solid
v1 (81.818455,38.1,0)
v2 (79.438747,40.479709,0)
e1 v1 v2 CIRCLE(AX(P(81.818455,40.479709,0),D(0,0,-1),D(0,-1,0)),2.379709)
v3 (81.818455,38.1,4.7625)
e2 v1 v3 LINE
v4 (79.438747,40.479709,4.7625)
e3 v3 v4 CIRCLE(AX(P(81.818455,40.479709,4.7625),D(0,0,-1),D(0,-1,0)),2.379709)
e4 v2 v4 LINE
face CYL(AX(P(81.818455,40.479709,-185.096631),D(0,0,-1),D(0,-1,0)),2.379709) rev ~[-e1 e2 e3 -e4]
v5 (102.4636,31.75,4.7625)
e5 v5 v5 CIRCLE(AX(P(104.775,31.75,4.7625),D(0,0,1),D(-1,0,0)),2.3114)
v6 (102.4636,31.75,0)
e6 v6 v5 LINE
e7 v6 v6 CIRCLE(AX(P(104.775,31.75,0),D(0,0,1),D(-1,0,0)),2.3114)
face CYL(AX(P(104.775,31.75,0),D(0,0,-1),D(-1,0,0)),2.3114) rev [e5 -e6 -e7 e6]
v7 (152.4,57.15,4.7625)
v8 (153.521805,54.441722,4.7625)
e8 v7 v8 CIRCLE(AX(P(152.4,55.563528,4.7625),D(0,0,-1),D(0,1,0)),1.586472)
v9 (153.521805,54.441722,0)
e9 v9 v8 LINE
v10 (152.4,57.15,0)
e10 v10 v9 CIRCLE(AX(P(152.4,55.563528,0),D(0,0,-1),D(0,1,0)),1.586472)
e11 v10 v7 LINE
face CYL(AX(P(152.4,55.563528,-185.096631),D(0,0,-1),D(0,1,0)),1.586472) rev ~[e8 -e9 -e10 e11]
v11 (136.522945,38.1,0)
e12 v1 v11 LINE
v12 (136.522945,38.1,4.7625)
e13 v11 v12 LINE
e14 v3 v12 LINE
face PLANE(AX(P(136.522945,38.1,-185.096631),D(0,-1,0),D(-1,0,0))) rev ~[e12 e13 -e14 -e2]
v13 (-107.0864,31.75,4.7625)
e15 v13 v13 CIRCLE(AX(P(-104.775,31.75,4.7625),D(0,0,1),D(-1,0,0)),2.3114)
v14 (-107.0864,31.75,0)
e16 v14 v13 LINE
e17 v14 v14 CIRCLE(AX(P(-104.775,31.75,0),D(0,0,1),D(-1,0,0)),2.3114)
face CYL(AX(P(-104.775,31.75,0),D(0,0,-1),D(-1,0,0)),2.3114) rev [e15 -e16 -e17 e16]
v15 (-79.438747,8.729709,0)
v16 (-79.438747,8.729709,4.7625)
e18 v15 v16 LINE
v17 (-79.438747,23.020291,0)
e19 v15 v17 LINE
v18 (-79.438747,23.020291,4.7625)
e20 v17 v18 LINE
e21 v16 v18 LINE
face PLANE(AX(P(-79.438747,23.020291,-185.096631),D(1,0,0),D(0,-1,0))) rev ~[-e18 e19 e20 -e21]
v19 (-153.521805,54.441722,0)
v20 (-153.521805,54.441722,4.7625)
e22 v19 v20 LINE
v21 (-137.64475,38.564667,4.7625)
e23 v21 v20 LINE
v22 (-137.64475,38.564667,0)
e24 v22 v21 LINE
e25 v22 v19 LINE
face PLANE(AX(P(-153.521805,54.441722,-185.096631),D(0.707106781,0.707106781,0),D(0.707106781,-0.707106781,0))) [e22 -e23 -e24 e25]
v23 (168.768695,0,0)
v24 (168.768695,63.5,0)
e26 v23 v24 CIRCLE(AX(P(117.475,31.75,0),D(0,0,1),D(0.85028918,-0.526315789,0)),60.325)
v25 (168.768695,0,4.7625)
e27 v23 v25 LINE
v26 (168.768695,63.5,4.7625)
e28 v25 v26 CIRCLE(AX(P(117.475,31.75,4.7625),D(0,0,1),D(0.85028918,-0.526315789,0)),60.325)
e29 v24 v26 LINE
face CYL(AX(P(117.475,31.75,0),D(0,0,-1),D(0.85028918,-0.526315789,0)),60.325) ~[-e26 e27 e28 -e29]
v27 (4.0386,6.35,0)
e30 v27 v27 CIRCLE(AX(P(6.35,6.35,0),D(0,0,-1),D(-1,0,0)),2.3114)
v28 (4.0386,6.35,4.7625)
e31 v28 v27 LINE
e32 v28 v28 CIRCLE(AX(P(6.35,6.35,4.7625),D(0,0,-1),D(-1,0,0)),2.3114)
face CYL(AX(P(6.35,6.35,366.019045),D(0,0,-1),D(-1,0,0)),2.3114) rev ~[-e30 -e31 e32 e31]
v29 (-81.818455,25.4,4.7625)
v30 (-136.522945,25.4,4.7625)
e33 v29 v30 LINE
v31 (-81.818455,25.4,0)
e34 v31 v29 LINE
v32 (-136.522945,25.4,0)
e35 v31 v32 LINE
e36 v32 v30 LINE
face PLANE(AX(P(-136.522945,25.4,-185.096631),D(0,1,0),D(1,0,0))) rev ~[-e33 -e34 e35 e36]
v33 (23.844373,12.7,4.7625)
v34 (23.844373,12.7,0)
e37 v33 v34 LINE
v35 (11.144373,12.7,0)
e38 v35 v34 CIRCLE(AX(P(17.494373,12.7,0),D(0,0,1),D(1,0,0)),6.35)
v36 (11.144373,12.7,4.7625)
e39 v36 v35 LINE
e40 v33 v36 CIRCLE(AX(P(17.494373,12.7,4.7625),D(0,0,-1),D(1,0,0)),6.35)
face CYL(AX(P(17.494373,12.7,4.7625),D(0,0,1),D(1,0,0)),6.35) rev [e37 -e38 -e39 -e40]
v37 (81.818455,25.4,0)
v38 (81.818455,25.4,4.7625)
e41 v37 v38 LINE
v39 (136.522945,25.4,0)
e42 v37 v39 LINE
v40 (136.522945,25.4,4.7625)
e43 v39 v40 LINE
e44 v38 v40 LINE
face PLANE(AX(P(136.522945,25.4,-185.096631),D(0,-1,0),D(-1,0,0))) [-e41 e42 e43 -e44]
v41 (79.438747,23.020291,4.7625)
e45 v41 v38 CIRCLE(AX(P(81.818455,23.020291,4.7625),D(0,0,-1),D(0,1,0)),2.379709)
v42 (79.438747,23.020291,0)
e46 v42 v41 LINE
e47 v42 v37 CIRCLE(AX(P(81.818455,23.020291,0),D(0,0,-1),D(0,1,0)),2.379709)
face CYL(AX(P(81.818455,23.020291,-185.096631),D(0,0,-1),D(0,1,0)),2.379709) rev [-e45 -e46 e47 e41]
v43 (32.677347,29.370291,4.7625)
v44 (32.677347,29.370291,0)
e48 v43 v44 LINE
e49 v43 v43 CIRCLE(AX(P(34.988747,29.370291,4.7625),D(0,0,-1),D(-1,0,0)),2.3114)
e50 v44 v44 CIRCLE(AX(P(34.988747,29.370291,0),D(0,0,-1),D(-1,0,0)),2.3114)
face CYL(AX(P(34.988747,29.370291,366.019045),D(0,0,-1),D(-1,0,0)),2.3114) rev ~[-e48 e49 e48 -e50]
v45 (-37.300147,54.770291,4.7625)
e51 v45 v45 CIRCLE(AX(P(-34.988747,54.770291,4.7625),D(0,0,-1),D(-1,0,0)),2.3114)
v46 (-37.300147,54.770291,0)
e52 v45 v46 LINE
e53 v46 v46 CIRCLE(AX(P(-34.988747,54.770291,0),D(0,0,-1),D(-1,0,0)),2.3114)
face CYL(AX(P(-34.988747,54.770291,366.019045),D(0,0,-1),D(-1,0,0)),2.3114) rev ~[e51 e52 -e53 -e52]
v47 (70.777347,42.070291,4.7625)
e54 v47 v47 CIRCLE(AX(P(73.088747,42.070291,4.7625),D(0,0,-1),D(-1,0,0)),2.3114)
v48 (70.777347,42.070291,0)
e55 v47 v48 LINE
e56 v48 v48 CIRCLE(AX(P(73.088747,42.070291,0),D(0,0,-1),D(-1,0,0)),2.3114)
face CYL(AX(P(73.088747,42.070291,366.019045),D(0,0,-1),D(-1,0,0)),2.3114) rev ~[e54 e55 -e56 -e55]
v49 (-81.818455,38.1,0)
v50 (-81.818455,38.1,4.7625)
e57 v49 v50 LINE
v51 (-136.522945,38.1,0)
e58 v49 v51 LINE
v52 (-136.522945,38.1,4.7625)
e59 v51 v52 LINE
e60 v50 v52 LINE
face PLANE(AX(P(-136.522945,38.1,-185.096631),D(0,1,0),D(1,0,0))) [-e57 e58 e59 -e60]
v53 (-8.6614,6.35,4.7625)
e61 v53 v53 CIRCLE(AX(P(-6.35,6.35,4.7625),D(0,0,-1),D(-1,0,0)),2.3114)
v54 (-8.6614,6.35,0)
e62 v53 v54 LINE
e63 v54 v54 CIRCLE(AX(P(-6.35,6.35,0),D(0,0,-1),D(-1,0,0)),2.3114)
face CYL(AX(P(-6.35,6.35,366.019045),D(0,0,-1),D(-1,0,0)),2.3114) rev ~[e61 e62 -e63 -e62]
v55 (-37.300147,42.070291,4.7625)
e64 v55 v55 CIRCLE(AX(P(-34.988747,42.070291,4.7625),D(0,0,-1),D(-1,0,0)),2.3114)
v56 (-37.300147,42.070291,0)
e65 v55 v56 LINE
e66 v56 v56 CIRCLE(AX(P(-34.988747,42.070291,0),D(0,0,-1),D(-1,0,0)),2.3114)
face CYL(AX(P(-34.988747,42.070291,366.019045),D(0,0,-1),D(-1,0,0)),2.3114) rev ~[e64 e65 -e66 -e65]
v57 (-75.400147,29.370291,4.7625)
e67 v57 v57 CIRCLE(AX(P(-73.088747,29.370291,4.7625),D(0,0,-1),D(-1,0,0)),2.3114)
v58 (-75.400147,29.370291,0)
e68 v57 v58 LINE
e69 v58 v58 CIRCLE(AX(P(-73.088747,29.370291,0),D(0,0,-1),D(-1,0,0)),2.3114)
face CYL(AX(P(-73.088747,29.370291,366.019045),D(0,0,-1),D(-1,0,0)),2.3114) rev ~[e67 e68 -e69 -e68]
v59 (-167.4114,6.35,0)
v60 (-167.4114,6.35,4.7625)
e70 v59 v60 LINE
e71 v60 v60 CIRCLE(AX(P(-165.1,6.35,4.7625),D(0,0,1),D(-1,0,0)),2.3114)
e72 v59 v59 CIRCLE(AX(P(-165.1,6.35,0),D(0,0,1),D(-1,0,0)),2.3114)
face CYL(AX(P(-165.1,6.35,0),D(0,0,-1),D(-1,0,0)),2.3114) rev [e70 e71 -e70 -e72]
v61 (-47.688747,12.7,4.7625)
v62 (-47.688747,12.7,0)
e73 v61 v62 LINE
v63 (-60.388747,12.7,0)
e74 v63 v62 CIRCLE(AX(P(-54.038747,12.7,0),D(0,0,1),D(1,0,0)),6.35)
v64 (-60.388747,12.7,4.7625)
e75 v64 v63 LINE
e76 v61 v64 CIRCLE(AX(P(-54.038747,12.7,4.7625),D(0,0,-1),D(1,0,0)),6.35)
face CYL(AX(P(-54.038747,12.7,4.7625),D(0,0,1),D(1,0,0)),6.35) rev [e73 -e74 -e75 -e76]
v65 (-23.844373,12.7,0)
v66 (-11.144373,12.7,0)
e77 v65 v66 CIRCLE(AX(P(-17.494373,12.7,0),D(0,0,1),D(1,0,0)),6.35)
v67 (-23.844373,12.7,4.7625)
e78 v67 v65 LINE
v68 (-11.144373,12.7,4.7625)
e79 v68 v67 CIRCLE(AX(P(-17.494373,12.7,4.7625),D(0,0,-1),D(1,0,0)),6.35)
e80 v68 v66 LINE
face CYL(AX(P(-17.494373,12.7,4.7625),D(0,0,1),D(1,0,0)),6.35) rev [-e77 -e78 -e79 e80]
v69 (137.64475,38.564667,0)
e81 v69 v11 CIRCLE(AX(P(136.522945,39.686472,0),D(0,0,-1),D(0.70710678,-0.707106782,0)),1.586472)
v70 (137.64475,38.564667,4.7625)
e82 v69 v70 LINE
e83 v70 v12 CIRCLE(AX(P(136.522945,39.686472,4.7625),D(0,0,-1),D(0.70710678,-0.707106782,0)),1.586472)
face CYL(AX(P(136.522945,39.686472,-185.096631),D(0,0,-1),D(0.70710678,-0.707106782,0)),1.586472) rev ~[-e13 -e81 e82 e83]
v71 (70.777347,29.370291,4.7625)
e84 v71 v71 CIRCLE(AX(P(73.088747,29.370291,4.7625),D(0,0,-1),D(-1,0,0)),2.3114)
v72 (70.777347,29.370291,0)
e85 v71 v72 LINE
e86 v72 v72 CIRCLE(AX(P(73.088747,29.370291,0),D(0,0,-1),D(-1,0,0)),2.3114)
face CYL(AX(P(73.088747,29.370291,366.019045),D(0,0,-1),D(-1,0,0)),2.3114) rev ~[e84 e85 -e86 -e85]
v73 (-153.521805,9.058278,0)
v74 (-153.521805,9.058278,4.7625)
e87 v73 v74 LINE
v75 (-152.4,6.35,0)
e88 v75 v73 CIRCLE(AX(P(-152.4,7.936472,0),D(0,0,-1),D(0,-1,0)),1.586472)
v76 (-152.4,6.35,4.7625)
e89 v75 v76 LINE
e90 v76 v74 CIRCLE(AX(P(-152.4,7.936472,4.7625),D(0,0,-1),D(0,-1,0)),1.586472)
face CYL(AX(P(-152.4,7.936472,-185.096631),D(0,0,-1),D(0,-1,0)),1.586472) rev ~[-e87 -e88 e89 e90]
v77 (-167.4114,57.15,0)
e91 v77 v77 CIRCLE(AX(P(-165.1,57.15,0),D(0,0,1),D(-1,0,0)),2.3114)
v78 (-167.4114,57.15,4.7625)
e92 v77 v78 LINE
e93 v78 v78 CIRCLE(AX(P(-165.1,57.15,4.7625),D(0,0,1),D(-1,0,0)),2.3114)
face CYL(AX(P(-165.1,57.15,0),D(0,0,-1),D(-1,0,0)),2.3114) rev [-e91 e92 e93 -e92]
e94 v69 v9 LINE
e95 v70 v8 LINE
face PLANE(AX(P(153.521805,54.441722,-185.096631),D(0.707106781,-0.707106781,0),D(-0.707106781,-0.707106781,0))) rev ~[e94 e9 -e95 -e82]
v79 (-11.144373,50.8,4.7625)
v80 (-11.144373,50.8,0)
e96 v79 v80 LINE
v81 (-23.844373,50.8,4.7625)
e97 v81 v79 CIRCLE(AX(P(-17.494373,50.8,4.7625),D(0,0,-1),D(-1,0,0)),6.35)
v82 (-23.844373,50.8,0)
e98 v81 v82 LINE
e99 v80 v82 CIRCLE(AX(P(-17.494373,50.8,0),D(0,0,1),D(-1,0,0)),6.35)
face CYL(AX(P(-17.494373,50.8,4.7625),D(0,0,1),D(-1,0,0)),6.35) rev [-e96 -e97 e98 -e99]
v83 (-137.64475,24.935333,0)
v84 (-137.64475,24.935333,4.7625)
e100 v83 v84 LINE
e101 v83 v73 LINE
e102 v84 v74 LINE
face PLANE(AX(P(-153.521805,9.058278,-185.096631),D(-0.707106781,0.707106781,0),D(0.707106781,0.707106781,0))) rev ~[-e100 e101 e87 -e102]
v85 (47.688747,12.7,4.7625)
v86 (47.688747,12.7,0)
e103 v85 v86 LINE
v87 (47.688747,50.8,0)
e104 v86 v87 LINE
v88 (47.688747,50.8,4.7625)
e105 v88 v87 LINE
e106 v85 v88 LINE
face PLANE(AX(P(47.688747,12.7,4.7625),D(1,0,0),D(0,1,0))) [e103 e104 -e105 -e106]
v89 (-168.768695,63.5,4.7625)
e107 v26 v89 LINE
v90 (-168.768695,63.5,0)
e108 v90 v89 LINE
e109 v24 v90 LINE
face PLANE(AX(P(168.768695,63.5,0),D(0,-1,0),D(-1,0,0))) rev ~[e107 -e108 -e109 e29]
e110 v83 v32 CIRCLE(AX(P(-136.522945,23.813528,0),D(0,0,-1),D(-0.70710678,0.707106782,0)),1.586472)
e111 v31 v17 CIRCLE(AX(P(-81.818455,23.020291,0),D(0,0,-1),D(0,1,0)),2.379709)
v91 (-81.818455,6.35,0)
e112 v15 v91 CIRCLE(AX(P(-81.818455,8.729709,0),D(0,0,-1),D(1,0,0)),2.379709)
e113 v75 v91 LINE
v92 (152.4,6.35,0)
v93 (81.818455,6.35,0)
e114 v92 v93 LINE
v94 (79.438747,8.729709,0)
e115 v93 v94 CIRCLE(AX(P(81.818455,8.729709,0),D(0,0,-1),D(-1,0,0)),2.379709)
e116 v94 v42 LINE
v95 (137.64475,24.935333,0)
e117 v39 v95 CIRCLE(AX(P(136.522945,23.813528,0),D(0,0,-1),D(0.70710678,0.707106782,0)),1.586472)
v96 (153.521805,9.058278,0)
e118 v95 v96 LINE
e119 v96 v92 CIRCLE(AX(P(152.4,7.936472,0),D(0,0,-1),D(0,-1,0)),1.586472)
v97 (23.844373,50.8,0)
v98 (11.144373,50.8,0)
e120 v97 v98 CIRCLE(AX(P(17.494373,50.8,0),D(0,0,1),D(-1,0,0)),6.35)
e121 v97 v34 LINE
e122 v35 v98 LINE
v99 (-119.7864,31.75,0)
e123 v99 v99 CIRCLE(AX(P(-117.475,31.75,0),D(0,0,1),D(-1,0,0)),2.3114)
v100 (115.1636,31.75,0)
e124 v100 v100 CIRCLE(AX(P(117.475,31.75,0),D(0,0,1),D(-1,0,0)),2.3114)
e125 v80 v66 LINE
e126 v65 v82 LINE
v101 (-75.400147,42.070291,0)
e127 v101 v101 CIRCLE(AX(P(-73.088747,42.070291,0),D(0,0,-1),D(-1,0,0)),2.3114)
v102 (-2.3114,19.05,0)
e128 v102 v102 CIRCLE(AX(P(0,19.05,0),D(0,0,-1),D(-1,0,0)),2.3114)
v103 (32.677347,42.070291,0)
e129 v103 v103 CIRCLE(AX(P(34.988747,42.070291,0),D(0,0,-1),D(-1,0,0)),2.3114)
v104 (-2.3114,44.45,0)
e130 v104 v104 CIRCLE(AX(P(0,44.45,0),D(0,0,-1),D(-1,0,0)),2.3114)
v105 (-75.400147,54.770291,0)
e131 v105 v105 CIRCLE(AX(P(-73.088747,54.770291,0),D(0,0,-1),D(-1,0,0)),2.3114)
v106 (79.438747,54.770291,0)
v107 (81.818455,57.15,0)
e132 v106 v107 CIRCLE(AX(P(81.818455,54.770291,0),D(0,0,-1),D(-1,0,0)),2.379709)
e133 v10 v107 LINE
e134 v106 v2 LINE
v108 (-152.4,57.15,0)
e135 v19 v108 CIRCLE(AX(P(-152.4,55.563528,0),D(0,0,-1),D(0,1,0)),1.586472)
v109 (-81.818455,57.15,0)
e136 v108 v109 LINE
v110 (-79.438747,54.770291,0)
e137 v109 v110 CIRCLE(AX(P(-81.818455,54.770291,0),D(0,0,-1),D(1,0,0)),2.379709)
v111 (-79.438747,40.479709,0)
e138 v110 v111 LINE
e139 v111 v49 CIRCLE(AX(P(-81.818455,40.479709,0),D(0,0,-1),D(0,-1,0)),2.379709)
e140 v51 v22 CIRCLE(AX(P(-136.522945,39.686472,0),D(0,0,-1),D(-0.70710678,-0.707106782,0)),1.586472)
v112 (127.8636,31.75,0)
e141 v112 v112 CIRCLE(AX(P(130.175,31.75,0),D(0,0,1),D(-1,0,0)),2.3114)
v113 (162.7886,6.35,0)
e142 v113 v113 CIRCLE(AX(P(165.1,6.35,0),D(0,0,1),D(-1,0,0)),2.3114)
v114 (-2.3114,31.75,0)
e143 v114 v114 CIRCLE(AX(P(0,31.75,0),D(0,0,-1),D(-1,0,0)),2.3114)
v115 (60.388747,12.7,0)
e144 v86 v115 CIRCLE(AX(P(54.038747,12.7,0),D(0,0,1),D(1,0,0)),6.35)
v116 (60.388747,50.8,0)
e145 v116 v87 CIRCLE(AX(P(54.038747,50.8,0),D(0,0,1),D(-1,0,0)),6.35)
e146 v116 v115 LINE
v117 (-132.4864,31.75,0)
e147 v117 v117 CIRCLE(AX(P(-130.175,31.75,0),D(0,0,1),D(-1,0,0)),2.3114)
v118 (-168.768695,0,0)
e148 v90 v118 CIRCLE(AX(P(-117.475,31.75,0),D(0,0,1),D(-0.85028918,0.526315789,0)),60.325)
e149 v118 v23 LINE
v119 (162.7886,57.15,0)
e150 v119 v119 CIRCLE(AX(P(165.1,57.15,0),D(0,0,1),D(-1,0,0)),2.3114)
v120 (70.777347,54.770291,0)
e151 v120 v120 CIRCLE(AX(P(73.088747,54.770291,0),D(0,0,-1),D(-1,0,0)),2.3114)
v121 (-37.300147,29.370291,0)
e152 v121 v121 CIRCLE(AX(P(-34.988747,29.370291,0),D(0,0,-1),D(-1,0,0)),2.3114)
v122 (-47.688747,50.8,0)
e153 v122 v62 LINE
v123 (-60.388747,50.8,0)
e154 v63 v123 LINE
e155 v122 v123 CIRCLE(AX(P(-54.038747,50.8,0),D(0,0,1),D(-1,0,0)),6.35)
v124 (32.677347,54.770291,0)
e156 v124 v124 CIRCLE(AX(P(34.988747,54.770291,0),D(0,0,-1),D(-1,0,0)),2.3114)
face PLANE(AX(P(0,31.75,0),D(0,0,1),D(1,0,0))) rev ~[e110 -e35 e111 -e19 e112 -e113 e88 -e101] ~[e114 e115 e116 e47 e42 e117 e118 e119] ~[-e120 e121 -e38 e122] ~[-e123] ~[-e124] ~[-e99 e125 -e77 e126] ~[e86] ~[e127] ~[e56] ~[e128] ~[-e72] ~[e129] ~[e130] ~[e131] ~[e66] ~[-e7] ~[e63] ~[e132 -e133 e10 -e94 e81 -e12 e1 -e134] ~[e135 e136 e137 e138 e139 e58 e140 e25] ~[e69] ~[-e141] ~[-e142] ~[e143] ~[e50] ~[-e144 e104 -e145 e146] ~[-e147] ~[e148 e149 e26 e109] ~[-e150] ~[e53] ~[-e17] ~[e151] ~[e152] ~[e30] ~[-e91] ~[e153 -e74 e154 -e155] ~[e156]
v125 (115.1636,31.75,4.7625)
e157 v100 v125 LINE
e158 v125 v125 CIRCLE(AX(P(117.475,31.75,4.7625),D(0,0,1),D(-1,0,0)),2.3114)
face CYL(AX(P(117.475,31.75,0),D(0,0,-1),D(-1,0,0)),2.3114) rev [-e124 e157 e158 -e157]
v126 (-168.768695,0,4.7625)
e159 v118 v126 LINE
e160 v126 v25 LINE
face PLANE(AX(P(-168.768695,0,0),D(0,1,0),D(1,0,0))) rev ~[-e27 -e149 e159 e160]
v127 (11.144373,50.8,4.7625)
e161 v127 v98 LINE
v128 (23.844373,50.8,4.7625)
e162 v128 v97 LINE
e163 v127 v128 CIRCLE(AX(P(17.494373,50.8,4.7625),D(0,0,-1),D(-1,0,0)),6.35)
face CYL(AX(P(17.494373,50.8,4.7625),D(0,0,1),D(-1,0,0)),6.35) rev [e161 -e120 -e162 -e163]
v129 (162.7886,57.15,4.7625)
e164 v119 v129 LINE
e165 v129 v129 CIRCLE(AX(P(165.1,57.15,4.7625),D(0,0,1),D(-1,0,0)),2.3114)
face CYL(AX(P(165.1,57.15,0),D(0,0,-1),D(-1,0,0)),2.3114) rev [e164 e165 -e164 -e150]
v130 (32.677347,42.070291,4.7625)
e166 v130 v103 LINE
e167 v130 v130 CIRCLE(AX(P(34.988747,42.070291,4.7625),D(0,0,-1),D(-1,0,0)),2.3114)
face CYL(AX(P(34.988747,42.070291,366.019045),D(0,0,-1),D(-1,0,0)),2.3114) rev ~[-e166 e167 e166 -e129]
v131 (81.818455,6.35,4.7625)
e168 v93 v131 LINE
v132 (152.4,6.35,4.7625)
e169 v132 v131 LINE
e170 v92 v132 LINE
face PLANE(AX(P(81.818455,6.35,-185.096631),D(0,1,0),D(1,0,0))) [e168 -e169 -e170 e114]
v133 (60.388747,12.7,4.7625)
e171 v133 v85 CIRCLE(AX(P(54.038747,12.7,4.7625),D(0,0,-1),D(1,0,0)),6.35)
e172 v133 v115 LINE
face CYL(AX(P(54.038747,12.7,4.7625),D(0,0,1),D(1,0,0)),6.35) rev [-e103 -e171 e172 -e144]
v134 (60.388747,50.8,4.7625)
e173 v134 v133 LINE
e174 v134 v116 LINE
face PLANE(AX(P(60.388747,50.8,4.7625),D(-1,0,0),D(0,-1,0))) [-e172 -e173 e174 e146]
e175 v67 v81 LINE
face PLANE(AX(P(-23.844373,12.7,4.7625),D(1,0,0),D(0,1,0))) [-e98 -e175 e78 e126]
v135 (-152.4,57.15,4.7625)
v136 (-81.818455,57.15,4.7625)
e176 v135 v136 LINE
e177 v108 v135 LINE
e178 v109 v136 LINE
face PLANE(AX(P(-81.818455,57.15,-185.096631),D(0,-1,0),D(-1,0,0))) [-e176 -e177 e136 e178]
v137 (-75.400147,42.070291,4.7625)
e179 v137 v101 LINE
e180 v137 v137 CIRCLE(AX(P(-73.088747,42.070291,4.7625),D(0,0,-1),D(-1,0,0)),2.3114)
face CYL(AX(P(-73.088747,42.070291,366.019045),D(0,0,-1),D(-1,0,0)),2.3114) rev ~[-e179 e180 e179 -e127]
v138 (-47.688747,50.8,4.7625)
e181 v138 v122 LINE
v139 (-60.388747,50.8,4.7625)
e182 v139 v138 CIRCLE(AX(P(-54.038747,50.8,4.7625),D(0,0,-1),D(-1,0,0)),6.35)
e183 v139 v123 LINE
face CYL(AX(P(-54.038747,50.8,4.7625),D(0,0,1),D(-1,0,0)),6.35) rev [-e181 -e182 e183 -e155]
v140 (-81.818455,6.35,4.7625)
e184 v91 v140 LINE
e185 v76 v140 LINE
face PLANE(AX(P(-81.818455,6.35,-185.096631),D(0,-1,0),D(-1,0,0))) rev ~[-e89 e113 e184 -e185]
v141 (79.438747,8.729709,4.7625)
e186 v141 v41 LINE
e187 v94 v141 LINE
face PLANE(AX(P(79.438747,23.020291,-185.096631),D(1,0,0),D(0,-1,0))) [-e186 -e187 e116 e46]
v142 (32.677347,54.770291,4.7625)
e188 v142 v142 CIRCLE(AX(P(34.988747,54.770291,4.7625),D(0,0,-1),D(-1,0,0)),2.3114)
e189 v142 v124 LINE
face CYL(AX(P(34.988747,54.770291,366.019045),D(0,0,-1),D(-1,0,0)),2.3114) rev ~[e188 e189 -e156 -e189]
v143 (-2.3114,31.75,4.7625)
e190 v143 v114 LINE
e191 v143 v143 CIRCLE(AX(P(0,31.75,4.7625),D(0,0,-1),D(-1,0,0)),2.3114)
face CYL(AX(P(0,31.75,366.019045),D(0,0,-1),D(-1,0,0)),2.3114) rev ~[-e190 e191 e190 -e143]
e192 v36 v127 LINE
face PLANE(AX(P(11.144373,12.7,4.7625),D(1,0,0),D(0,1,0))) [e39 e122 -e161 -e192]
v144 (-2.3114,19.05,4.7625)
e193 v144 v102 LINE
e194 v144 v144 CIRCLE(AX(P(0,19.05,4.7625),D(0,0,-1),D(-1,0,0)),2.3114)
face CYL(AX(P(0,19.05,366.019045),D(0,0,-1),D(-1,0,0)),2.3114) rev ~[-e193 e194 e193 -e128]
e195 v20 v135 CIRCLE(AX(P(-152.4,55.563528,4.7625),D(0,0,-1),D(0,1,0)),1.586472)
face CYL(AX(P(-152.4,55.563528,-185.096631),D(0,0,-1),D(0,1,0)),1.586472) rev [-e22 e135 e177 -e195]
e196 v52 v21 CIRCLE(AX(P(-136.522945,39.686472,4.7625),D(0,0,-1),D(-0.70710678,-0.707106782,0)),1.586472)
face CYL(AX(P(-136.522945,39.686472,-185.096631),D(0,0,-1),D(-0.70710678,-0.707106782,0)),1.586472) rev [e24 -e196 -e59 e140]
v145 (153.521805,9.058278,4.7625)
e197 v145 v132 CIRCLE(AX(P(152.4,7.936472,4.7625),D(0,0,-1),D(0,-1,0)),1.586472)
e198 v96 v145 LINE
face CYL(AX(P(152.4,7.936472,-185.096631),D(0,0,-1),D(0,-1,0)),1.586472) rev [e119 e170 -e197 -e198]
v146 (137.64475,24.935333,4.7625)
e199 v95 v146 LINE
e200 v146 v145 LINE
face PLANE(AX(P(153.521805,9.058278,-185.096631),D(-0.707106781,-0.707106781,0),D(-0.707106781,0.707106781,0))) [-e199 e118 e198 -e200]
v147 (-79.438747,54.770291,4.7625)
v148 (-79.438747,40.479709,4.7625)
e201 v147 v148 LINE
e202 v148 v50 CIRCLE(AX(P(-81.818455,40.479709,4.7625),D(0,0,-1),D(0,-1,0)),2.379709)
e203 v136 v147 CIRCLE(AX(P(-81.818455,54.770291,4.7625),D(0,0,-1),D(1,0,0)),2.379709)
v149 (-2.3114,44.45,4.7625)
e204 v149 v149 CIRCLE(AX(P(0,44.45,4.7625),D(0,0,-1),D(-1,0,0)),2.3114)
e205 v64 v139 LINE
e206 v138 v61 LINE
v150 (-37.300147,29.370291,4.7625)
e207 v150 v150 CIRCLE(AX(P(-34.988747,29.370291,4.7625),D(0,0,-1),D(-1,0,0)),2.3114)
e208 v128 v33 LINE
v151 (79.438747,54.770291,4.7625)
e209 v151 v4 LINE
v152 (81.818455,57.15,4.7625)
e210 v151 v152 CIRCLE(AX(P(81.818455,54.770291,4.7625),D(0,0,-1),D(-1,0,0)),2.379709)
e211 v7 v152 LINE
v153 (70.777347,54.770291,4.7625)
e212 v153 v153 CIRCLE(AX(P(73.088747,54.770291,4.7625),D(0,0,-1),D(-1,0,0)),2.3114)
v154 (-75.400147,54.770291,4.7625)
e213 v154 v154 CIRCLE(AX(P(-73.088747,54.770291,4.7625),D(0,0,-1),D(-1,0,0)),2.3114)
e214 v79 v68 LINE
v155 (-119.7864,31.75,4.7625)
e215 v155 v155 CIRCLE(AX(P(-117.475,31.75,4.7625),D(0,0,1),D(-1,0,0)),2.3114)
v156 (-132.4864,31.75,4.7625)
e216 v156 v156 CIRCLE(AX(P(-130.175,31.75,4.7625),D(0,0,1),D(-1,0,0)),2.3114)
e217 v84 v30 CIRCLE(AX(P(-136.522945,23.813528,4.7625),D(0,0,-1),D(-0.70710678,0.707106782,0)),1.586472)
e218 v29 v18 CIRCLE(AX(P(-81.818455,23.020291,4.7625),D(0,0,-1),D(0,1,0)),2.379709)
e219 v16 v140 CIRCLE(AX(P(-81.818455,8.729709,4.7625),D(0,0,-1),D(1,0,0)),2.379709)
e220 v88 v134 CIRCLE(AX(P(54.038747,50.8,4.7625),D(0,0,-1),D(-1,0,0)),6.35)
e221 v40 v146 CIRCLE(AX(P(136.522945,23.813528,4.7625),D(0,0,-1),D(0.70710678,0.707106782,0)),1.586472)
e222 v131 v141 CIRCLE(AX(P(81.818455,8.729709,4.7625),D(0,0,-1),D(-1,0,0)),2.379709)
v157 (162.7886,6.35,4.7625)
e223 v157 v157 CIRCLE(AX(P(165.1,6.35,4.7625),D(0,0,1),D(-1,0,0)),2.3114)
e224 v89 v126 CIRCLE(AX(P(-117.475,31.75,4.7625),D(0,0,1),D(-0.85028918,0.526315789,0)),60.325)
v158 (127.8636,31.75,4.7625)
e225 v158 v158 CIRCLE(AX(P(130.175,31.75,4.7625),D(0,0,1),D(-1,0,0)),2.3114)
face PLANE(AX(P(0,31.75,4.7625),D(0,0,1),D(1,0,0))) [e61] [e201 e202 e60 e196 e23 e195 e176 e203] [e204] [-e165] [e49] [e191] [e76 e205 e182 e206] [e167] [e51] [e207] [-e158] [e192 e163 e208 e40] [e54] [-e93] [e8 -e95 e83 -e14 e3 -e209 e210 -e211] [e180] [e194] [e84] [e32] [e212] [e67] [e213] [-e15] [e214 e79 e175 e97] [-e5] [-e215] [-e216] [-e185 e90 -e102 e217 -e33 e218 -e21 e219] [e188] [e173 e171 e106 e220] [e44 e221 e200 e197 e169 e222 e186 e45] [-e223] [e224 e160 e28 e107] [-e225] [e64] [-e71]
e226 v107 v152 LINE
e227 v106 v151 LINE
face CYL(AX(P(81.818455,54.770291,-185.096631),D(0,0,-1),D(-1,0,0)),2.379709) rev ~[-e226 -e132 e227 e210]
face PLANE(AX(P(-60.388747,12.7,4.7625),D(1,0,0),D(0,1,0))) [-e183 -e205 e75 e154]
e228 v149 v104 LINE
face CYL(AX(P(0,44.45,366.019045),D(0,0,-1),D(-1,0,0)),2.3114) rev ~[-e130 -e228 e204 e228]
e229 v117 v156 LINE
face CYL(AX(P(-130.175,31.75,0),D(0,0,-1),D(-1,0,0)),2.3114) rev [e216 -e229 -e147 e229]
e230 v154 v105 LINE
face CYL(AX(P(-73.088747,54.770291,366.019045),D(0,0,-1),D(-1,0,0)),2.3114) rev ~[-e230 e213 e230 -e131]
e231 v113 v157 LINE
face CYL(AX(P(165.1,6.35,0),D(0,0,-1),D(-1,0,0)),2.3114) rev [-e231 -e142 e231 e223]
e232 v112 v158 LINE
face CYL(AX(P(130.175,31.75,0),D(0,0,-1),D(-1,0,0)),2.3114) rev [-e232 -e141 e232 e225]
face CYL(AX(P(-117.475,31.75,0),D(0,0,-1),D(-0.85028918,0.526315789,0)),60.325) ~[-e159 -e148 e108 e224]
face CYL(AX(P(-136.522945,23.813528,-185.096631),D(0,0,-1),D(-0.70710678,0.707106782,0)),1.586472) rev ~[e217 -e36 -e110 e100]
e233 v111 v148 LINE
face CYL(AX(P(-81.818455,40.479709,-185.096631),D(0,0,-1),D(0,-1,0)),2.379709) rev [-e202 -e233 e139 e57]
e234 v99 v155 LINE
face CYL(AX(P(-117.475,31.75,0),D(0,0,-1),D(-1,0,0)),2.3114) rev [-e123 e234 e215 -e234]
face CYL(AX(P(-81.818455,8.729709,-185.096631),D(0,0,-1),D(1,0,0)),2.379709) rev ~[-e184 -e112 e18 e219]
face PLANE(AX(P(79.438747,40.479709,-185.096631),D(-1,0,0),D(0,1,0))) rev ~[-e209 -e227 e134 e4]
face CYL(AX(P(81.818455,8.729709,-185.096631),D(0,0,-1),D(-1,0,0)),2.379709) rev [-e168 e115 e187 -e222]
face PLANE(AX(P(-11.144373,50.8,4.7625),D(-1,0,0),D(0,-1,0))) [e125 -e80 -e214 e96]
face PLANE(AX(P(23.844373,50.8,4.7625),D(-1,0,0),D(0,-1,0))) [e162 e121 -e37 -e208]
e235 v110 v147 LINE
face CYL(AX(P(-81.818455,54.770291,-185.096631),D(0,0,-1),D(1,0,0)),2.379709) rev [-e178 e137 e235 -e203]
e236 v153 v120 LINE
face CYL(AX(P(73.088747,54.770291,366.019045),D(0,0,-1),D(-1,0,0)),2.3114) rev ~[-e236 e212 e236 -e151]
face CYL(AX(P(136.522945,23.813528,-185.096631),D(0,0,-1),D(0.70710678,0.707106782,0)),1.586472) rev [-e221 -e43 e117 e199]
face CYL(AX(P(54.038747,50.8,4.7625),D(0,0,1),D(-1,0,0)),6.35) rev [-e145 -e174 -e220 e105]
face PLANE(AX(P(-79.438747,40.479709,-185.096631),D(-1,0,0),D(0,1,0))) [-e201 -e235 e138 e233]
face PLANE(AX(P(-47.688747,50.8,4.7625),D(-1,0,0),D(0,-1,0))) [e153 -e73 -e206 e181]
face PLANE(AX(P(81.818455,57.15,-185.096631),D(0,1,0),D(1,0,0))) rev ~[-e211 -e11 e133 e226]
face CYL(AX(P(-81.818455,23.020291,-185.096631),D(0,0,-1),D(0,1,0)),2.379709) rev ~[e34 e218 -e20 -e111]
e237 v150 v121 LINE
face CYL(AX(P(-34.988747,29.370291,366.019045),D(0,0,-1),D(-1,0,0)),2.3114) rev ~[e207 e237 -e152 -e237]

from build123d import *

# Parameters (mm, degrees)
SKETCH1_R                   = 2.3114
BOSS_EXTRUDE1_DEPTH         = 4.7625
F_14_0_182_DIAMETER_HOLE1_D = 4.6228
WEIGHTCUTTING_2_DEPTH       = 189.859131117
WEIGHTCUTTING_2_DEPTH_BACK  = 189.859131117
CUT_EXTRUDE1_DEPTH          = 189.859131117


with BuildPart() as part:
    # Sketch1 → Boss-Extrude1 (new body)
    with BuildSketch(Plane.XY):
        with BuildLine():
            Line((-168.768694788, 0), (168.768694788, 0))
            ThreePointArc((168.768694788, 0), (177.8, 31.75), (168.768694788, 63.5))
            Line((168.768694788, 63.5), (-168.768694788, 63.5))
            ThreePointArc((-168.768694788, 63.5), (-177.8, 31.75), (-168.768694788, 0))
        make_face()
        with Locations(Location((-117.475, 31.75, 0), (0, 0, 180))):
            Circle(SKETCH1_R, mode=Mode.SUBTRACT)
        with Locations(Location((117.475, 31.75, 0), (0, 0, 180))):
            Circle(SKETCH1_R, mode=Mode.SUBTRACT)
        with Locations(Location((-130.175, 31.75, 0), (0, 0, 180))):
            Circle(SKETCH1_R, mode=Mode.SUBTRACT)
        with Locations(Location((-104.775, 31.75, 0), (0, 0, 180))):
            Circle(SKETCH1_R, mode=Mode.SUBTRACT)
        with Locations(Location((104.775, 31.75, 0), (0, 0, 180))):
            Circle(SKETCH1_R, mode=Mode.SUBTRACT)
        with Locations(Location((130.175, 31.75, 0), (0, 0, 180))):
            Circle(SKETCH1_R, mode=Mode.SUBTRACT)
        with Locations(Location((-165.1, 57.15, 0), (0, 0, 180))):
            Circle(SKETCH1_R, mode=Mode.SUBTRACT)
        with Locations(Location((-165.1, 6.35, 0), (0, 0, 180))):
            Circle(SKETCH1_R, mode=Mode.SUBTRACT)
        with Locations(Location((165.1, 6.35, 0), (0, 0, 180))):
            Circle(SKETCH1_R, mode=Mode.SUBTRACT)
        with Locations(Location((165.1, 57.15, 0), (0, 0, 180))):
            Circle(SKETCH1_R, mode=Mode.SUBTRACT)
    extrude(amount=BOSS_EXTRUDE1_DEPTH)

    # #14 (0.182) Diameter Hole1 (through all)
    with Locations(Plane.XY.offset(4.7625)):
        with Locations((-73.088746639, 54.770291494), (-73.088746639, 42.070291494), (-73.088746639, 29.370291494), (-34.988746639, 29.370291494), (-34.988746639, 42.070291494), (-34.988746639, 54.770291494), (34.988746639, 54.770291494), (34.988746639, 42.070291494), (34.988746639, 29.370291494), (73.088746639, 29.370291494), (73.088746639, 42.070291494), (73.088746639, 54.770291494), (0, 44.45), (0, 31.75), (0, 19.05), (-6.35, 6.35), (6.35, 6.35)):
            Hole(F_14_0_182_DIAMETER_HOLE1_D / 2)

    # Sketch7 → WeightCutting_2 (cut, two sides: drawn at the far end of the back side and taken through both)
    with BuildSketch(Plane.XY.offset(4.7625).offset(-WEIGHTCUTTING_2_DEPTH_BACK)):
        with BuildLine():
            Line((-153.521805348, 54.441722315), (-137.644750023, 38.564666989))
            ThreePointArc((-137.644750023, 38.564666989), (-137.130061354, 38.220763016), (-136.522944675, 38.1))
            Line((-136.522944675, 38.1), (-81.818455145, 38.1))
            ThreePointArc((-81.818455145, 38.1), (-80.135747123, 38.797000484), (-79.438746639, 40.479708506))
            Line((-79.438746639, 40.479708506), (-79.438746639, 54.770291494))
            ThreePointArc((-79.438746639, 54.770291494), (-80.135747123, 56.452999516), (-81.818455145, 57.15))
            Line((-81.818455145, 57.15), (-152.4, 57.15))
            ThreePointArc((-152.4, 57.15), (-153.865709321, 56.170644342), (-153.521805348, 54.441722315))
        make_face()
        with BuildLine():
            Line((81.818455145, 57.15), (152.4, 57.15))
            ThreePointArc((152.4, 57.15), (153.865709321, 56.170644342), (153.521805348, 54.441722315))
            Line((153.521805348, 54.441722315), (137.644750023, 38.564666989))
            ThreePointArc((137.644750023, 38.564666989), (137.130061354, 38.220763016), (136.522944675, 38.1))
            Line((136.522944675, 38.1), (81.818455145, 38.1))
            ThreePointArc((81.818455145, 38.1), (80.135747123, 38.797000484), (79.438746639, 40.479708506))
            Line((79.438746639, 40.479708506), (79.438746639, 54.770291494))
            ThreePointArc((79.438746639, 54.770291494), (80.135747123, 56.452999516), (81.818455145, 57.15))
        make_face()
        with BuildLine():
            Line((-81.818455145, 6.35), (-152.4, 6.35))
            ThreePointArc((-152.4, 6.35), (-153.865709321, 7.329355658), (-153.521805348, 9.058277685))
            Line((-153.521805348, 9.058277685), (-137.644750023, 24.935333011))
            ThreePointArc((-137.644750023, 24.935333011), (-137.130061354, 25.279236984), (-136.522944675, 25.4))
            Line((-136.522944675, 25.4), (-81.818455145, 25.4))
            ThreePointArc((-81.818455145, 25.4), (-80.135747123, 24.702999516), (-79.438746639, 23.020291494))
            Line((-79.438746639, 23.020291494), (-79.438746639, 8.729708506))
            ThreePointArc((-79.438746639, 8.729708506), (-80.135747123, 7.047000484), (-81.818455145, 6.35))
        make_face()
        with BuildLine():
            Line((79.438746639, 23.020291494), (79.438746639, 8.729708506))
            ThreePointArc((79.438746639, 8.729708506), (80.135747123, 7.047000484), (81.818455145, 6.35))
            Line((81.818455145, 6.35), (152.4, 6.35))
            ThreePointArc((152.4, 6.35), (153.865709321, 7.329355658), (153.521805348, 9.058277685))
            Line((153.521805348, 9.058277685), (137.644750023, 24.935333011))
            ThreePointArc((137.644750023, 24.935333011), (137.130061354, 25.279236984), (136.522944675, 25.4))
            Line((136.522944675, 25.4), (81.818455145, 25.4))
            ThreePointArc((81.818455145, 25.4), (80.135747123, 24.702999516), (79.438746639, 23.020291494))
        make_face()
    extrude(amount=WEIGHTCUTTING_2_DEPTH + WEIGHTCUTTING_2_DEPTH_BACK, mode=Mode.SUBTRACT)

    # Sketch9 → Cut-Extrude1 (cut, through all)
    with BuildSketch(Plane.XY.offset(4.7625)):
        with BuildLine():
            Line((-47.688746639, 50.8), (-47.688746639, 12.7))
            ThreePointArc((-47.688746639, 12.7), (-54.038746639, 6.35), (-60.388746639, 12.7))
            Line((-60.388746639, 12.7), (-60.388746639, 50.8))
            ThreePointArc((-60.388746639, 50.8), (-54.038746639, 57.15), (-47.688746639, 50.8))
        make_face()
        with BuildLine():
            Line((60.388746639, 50.8), (60.388746639, 12.7))
            ThreePointArc((60.388746639, 12.7), (54.038746639, 6.35), (47.688746639, 12.7))
            Line((47.688746639, 12.7), (47.688746639, 50.8))
            ThreePointArc((47.688746639, 50.8), (54.038746639, 57.15), (60.388746639, 50.8))
        make_face()
        with BuildLine():
            Line((23.84437332, 50.8), (23.84437332, 12.7))
            ThreePointArc((23.84437332, 12.7), (17.49437332, 6.35), (11.14437332, 12.7))
            Line((11.14437332, 12.7), (11.14437332, 50.8))
            ThreePointArc((11.14437332, 50.8), (17.49437332, 57.15), (23.84437332, 50.8))
        make_face()
        with BuildLine():
            Line((-11.14437332, 50.8), (-11.14437332, 12.7))
            ThreePointArc((-11.14437332, 12.7), (-17.49437332, 6.35), (-23.84437332, 12.7))
            Line((-23.84437332, 12.7), (-23.84437332, 50.8))
            ThreePointArc((-23.84437332, 50.8), (-17.49437332, 57.15), (-11.14437332, 50.8))
        make_face()
    extrude(amount=-CUT_EXTRUDE1_DEPTH, mode=Mode.SUBTRACT)


solid = part.part
